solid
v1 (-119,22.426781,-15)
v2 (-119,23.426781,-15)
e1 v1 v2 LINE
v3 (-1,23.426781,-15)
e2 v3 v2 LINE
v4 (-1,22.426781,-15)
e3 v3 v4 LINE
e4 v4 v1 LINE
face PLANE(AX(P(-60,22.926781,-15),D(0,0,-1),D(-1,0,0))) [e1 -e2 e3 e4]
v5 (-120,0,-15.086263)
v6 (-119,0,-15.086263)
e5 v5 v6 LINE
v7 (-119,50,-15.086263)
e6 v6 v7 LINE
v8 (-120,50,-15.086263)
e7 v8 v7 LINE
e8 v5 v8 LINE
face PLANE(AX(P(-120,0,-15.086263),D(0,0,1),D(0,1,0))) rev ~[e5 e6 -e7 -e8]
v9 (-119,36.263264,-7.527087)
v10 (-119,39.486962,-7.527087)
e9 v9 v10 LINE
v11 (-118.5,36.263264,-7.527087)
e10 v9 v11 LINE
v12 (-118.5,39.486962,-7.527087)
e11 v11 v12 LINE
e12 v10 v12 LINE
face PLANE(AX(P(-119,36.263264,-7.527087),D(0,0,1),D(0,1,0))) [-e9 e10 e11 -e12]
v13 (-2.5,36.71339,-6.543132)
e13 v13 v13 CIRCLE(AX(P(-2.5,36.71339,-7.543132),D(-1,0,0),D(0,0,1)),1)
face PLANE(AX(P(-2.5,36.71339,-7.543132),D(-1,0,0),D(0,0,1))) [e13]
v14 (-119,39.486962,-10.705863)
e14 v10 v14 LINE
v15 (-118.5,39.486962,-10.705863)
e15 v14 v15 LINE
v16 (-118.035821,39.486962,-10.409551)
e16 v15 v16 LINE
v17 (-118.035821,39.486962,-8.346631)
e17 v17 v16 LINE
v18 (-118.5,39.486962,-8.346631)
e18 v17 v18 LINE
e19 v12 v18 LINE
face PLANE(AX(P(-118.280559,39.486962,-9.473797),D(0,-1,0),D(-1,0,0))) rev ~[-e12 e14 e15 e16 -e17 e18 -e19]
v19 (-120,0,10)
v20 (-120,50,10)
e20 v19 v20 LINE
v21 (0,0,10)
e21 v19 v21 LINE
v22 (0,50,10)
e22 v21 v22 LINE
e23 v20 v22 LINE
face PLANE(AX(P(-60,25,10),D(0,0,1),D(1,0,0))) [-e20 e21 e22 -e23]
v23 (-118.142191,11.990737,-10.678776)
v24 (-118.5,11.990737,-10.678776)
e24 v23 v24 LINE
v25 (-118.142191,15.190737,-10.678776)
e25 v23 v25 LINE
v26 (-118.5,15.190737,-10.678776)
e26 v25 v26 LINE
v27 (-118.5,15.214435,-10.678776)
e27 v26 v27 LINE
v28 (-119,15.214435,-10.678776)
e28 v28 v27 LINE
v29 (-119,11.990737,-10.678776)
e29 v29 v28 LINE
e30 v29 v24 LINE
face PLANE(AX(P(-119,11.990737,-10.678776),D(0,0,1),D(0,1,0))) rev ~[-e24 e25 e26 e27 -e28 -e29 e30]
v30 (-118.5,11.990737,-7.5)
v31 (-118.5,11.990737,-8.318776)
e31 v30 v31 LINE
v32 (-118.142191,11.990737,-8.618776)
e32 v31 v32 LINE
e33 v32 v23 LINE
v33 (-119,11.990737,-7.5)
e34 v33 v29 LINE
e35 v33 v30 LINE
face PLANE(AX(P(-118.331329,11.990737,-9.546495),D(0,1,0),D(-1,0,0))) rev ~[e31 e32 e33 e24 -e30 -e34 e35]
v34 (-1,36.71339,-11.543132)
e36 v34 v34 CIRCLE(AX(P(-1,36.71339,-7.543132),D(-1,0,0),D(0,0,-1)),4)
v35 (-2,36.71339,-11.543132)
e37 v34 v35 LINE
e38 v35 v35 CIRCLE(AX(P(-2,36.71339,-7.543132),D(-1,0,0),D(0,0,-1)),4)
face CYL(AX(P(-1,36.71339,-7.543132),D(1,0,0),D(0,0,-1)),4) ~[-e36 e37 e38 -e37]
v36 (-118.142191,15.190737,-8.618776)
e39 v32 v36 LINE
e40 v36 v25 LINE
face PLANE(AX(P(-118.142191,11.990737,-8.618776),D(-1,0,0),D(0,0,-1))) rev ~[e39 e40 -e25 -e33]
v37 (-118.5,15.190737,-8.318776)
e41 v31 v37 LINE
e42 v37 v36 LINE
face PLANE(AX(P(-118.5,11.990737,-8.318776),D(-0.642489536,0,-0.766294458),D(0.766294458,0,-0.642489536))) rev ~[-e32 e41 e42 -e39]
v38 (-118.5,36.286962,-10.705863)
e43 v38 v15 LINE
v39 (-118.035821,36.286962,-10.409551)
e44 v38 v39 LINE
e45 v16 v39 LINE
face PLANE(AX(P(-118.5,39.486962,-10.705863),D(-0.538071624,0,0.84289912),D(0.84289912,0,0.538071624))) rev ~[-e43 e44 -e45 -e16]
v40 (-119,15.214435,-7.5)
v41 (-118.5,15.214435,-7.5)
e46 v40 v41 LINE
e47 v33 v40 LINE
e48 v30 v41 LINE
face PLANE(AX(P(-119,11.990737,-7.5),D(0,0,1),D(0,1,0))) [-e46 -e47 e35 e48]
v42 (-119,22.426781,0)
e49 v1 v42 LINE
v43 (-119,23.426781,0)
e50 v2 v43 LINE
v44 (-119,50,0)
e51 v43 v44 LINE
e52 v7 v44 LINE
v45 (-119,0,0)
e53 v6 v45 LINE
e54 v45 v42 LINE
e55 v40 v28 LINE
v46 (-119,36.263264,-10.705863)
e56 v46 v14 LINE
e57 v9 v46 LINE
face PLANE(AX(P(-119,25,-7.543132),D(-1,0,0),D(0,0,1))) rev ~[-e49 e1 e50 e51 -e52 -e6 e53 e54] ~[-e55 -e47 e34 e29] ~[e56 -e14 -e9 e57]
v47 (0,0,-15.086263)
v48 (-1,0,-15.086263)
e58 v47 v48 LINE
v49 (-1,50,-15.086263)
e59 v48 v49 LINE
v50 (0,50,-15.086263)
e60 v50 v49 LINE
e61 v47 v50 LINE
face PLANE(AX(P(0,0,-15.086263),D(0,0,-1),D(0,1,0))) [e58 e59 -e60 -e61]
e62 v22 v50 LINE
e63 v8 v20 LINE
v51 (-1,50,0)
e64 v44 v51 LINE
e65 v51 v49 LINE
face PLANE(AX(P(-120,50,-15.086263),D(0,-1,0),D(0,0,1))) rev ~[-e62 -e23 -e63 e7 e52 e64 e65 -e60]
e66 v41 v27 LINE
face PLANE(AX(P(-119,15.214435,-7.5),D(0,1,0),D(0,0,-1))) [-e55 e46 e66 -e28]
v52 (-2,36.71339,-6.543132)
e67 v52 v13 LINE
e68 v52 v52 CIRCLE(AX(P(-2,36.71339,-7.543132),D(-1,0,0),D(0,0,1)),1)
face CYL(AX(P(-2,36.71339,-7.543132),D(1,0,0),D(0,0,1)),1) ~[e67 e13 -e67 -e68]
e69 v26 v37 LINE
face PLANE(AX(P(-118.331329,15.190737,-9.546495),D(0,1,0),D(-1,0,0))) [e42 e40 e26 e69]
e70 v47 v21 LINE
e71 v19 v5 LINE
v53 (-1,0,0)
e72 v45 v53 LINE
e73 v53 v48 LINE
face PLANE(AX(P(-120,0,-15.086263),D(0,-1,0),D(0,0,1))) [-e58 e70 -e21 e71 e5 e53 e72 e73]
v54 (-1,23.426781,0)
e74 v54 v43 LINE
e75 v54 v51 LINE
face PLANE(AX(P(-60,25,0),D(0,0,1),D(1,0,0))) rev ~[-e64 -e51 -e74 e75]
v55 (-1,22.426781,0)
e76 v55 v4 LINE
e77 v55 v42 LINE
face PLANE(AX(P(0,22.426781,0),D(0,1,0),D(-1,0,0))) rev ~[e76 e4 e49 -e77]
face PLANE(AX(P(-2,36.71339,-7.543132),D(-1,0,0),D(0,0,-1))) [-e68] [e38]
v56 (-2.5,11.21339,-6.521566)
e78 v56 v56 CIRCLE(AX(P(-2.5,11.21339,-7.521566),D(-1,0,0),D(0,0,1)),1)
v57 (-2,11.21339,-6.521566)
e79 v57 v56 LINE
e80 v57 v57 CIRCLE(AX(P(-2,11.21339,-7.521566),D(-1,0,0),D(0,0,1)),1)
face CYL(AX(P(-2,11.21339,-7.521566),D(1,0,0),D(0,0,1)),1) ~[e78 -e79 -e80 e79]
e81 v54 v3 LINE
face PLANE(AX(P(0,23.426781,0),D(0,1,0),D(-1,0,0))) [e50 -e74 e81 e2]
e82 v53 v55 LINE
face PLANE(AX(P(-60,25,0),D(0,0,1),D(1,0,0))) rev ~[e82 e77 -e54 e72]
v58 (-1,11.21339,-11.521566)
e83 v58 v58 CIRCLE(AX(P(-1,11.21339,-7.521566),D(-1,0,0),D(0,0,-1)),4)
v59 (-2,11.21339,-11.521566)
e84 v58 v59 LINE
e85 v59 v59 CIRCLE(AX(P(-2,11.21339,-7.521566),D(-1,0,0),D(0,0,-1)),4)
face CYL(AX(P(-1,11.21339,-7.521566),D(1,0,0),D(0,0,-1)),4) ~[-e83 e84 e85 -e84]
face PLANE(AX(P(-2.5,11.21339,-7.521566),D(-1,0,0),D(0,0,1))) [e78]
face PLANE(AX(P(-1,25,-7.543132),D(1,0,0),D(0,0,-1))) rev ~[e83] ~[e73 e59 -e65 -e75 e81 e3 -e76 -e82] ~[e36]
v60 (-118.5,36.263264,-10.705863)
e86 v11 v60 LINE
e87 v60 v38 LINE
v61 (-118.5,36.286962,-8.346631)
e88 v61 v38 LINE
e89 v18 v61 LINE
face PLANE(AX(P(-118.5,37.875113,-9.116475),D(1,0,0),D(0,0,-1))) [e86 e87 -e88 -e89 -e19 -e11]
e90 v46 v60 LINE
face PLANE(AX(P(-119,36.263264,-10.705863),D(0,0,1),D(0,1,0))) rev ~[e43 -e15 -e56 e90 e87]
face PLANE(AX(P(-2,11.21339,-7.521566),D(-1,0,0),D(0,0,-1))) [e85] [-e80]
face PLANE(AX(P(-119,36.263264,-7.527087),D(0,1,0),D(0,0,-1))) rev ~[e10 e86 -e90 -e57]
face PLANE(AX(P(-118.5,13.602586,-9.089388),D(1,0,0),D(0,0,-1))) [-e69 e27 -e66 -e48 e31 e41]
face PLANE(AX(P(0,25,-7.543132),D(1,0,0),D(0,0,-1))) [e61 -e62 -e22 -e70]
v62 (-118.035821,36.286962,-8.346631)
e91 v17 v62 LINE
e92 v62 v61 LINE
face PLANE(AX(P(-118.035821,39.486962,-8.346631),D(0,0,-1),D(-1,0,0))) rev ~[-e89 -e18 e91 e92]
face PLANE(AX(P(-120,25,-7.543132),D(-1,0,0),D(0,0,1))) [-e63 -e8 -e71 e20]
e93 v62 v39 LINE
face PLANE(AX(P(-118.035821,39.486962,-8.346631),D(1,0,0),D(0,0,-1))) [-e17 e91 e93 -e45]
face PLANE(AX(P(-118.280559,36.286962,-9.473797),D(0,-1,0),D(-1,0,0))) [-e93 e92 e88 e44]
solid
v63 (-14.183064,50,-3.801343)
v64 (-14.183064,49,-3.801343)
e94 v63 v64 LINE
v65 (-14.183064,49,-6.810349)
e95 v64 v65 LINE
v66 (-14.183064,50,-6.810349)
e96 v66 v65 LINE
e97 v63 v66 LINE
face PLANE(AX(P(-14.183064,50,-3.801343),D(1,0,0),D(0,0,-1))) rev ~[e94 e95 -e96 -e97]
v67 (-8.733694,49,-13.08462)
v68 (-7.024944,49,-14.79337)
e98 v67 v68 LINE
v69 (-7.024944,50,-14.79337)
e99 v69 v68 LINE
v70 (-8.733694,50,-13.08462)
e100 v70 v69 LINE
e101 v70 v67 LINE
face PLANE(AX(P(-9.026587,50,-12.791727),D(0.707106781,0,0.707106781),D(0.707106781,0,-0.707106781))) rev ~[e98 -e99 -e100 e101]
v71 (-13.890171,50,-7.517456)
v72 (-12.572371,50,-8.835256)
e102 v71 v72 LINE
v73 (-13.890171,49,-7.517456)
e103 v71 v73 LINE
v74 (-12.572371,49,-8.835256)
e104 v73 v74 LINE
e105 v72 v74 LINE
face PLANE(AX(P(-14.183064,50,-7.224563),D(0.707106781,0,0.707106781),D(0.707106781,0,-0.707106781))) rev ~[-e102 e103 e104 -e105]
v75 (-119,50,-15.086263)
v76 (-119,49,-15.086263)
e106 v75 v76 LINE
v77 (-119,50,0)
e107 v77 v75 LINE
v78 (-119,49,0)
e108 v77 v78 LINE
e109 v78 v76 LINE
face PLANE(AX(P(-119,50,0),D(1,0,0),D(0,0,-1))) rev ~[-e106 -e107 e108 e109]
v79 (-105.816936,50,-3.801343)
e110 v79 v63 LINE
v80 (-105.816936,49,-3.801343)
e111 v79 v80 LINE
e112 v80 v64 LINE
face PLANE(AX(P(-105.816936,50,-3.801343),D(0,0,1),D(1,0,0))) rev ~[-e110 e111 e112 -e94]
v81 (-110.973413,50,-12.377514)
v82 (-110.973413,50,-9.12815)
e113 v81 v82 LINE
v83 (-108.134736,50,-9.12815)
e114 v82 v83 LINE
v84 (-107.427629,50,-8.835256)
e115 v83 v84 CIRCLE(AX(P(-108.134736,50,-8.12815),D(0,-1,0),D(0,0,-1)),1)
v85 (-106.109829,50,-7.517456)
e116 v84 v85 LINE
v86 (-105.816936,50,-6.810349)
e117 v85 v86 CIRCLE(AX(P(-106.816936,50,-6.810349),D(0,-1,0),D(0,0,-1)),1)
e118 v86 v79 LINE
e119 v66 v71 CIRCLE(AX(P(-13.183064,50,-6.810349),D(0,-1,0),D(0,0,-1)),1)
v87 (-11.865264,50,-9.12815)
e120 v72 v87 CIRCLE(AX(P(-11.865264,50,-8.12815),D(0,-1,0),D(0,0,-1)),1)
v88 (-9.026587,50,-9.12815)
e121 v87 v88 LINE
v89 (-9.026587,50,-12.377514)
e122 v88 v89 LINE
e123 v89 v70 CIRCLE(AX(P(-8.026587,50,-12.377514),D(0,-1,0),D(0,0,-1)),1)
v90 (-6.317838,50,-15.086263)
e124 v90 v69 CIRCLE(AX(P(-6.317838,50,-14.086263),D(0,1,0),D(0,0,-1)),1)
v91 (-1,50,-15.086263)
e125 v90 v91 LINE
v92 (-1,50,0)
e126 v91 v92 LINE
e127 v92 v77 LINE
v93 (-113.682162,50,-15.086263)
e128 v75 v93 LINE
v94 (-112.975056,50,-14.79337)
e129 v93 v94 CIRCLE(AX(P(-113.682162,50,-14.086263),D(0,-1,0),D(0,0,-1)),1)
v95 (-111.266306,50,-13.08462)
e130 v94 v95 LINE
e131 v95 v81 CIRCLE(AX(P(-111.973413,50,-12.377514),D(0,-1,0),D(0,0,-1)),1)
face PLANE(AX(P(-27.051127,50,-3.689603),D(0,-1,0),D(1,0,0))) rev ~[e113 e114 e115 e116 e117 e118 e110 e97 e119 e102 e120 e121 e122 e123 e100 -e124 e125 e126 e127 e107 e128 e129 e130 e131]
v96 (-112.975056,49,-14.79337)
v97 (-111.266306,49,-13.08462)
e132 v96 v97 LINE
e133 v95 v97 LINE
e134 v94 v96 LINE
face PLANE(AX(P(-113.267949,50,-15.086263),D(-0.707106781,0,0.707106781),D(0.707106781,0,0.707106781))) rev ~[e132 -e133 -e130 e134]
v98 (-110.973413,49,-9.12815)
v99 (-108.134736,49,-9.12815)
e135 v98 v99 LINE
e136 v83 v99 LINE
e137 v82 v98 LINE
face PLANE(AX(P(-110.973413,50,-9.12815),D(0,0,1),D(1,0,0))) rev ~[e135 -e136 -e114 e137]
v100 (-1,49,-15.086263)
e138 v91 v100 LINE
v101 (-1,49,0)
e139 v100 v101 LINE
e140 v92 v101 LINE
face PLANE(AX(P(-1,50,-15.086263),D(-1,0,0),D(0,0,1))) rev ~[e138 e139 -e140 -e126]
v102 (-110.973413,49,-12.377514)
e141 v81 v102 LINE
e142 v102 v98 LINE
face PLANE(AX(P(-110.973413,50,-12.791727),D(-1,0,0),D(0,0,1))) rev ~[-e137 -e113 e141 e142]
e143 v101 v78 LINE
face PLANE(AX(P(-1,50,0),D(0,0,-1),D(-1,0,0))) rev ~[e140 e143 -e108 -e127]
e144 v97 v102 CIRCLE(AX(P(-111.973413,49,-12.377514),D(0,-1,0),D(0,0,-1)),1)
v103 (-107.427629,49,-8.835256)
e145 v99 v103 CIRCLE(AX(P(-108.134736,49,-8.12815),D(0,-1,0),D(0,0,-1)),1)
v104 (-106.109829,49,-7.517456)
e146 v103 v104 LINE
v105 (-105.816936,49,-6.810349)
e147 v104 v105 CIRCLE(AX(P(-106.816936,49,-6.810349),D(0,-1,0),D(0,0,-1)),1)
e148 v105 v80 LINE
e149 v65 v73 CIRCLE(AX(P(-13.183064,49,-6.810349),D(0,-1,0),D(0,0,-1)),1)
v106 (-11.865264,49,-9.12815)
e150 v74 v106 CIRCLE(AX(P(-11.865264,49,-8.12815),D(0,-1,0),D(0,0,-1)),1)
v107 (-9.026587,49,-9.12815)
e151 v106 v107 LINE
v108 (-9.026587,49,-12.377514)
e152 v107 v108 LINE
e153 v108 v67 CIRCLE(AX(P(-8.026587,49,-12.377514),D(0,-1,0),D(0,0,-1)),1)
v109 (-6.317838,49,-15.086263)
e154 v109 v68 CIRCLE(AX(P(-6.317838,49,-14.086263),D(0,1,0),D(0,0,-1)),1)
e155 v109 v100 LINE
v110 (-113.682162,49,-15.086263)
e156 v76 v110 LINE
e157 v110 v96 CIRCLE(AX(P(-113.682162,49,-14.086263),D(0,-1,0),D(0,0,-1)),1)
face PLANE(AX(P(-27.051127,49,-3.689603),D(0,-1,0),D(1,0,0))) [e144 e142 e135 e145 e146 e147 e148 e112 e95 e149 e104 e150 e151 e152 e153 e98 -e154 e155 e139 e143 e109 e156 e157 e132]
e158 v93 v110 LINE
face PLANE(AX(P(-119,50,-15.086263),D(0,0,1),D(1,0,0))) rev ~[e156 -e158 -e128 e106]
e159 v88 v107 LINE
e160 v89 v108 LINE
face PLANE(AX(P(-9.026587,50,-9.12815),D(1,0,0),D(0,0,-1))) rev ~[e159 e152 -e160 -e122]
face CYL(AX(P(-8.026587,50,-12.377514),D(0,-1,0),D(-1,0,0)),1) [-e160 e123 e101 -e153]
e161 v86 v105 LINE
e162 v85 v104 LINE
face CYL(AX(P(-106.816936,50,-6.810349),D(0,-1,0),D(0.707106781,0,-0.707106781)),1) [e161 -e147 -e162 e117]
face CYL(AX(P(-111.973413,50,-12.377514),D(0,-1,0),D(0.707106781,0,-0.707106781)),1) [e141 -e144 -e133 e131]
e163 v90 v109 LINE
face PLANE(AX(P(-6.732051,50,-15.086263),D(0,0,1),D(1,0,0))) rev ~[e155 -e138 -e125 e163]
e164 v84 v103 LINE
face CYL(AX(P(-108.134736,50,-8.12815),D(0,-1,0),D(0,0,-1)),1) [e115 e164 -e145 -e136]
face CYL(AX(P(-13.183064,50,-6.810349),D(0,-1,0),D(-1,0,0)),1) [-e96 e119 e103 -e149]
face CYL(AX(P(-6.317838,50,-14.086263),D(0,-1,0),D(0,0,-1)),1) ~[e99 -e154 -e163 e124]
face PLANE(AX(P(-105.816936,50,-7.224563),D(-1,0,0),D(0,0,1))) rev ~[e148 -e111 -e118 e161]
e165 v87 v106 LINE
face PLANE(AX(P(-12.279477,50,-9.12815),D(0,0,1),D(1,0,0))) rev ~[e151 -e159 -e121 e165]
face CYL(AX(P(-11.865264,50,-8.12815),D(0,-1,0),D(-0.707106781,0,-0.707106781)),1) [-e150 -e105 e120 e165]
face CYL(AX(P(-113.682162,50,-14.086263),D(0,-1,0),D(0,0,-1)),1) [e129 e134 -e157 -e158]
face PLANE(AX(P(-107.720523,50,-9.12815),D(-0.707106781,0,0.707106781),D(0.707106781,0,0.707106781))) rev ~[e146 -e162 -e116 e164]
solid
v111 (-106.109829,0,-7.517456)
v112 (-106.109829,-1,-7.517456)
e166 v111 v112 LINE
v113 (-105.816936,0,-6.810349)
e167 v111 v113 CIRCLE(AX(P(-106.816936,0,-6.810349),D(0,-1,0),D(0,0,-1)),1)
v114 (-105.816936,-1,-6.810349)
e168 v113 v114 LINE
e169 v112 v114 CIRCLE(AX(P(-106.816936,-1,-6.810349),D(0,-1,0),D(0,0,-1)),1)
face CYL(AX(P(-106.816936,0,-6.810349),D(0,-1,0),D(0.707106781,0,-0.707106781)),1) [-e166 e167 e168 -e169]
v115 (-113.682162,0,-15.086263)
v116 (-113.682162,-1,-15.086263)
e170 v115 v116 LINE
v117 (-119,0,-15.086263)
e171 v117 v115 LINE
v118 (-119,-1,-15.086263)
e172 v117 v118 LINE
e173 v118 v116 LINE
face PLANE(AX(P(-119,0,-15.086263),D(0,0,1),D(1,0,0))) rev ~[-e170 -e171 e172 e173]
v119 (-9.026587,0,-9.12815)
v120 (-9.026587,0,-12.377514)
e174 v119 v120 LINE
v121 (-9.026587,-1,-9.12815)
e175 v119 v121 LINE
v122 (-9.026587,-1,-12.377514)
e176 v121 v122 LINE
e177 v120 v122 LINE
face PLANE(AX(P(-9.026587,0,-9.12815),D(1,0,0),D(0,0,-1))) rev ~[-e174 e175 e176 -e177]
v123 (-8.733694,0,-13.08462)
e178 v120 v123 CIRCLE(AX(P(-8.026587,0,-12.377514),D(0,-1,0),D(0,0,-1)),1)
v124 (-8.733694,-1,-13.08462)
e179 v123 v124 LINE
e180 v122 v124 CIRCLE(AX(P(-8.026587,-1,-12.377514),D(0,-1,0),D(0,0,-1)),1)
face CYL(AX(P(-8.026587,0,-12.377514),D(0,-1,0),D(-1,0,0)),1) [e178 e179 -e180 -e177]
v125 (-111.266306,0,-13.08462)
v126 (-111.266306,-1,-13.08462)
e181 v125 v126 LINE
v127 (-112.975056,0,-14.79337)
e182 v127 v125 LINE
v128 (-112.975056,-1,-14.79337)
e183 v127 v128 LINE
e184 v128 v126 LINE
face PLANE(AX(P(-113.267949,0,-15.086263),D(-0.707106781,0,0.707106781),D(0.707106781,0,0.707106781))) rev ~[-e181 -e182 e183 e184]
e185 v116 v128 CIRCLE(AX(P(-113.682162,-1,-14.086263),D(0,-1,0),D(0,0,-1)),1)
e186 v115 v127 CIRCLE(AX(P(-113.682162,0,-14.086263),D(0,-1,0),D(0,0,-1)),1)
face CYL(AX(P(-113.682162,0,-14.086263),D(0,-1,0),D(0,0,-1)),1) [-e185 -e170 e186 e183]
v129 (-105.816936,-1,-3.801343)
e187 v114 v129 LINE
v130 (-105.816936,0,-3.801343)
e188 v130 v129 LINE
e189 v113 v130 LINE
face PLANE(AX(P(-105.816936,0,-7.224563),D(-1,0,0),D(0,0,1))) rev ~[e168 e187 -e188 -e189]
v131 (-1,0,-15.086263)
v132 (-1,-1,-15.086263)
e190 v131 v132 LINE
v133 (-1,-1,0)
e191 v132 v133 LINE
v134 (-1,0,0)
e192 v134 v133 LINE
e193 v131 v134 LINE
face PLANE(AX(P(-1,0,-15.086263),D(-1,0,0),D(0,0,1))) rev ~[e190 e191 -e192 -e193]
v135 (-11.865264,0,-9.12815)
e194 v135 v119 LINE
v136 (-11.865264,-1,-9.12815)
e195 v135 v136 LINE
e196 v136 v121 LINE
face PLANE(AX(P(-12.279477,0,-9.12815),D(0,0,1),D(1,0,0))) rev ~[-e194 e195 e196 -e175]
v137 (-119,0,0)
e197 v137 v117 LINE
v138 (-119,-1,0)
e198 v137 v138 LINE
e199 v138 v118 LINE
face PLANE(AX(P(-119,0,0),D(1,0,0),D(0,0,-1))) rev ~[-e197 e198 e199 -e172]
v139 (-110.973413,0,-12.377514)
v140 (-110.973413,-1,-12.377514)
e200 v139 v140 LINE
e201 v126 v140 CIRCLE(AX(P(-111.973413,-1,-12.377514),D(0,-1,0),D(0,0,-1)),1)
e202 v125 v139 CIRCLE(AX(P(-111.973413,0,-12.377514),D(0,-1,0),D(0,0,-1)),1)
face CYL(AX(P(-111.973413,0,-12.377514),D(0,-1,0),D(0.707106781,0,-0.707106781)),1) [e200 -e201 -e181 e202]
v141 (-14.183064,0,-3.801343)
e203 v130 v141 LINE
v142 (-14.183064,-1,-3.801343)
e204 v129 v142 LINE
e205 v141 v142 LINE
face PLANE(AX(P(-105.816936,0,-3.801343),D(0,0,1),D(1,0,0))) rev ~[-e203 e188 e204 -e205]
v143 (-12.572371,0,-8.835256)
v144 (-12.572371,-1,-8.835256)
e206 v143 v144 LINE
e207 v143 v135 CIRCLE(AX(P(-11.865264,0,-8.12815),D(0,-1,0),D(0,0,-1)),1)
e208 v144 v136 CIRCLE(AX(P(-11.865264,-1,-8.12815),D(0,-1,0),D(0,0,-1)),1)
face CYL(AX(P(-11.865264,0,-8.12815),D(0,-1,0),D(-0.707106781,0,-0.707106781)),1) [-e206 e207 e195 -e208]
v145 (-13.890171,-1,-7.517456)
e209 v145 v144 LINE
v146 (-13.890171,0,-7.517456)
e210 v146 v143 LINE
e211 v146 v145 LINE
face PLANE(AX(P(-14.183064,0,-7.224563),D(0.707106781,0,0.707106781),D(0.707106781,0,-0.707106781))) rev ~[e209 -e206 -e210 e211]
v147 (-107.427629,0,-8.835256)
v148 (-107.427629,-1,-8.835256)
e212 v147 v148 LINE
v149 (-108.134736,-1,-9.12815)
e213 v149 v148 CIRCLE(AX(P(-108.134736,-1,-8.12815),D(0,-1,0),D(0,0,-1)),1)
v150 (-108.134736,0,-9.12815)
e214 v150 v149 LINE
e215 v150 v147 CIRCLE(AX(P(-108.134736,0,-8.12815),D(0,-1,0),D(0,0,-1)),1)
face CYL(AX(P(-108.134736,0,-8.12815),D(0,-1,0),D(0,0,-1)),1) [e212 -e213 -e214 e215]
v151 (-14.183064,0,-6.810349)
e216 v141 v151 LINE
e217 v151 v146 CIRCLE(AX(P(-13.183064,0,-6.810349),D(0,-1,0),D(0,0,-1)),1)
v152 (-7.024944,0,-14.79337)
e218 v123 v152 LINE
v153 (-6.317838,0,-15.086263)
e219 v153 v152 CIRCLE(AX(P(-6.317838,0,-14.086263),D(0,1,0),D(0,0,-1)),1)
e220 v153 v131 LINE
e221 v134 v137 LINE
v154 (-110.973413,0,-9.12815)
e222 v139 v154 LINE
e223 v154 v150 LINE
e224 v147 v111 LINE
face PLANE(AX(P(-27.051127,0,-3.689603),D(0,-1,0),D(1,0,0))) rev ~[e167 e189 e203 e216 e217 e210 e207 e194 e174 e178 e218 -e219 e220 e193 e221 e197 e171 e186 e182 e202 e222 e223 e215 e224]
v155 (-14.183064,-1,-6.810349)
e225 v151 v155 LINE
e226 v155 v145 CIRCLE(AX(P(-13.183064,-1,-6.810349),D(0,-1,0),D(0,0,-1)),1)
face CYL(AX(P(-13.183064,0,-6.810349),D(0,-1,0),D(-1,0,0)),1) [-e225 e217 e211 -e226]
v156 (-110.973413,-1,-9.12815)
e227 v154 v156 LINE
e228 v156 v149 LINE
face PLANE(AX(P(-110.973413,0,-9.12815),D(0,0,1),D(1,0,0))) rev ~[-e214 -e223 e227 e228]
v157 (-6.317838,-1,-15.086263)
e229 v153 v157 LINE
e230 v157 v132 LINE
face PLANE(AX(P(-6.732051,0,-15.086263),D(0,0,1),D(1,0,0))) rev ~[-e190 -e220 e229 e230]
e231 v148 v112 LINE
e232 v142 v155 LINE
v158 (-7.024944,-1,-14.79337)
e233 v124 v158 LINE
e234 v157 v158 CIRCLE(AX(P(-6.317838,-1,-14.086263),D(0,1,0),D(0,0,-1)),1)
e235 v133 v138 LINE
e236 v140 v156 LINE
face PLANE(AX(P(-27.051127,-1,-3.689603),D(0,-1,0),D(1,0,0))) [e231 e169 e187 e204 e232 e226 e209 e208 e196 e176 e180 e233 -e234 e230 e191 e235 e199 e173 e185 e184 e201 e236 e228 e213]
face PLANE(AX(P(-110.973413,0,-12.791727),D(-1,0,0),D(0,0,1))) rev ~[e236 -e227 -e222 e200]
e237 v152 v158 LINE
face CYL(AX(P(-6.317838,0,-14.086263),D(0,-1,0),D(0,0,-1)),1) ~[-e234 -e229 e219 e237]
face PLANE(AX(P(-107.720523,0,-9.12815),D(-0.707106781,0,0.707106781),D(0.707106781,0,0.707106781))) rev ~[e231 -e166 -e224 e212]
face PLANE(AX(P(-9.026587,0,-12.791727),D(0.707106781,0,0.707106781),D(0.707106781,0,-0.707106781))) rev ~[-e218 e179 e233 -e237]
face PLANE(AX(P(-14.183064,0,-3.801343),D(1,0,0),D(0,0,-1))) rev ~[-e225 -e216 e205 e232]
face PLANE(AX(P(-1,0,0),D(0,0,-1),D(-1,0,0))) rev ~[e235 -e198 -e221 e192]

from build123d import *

# Parameters (mm, degrees)
SKETCH2_W            = 120
SKETCH2_H            = 50
BOSS_EXTRUDE1_DEPTH  = 10
SKETCH5_W            = 120
SKETCH5_H            = 1
BOSS_EXTRUDE2_DEPTH  = 15
SKETCH6_W            = 15.086263202
SKETCH6_H            = 50
BOSS_EXTRUDE5_DEPTH  = 1
SKETCH7_W            = 15.086263202
SKETCH7_H            = 50
BOSS_EXTRUDE6_DEPTH  = 1
BOSS_EXTRUDE7_DEPTH  = 1
LPATTERN2_COUNT      = 2
LPATTERN2_PITCH      = 50
FILLET1_R            = 1
FILLET2_R            = 1
SKETCH10_R           = 4
BOSS_EXTRUDE8_DEPTH  = 1
SKETCH11_R           = 4
BOSS_EXTRUDE10_DEPTH = 1
SKETCH12_R           = 1
BOSS_EXTRUDE11_DEPTH = 0.5
SKETCH13_W           = 3.178775998
SKETCH13_H           = 3.223697934
SKETCH13_H_2         = 3.223697935
BOSS_EXTRUDE12_DEPTH = 0.5
BOSS_EXTRUDE13_DEPTH = 3.2
BOSS_EXTRUDE15_DEPTH = 3.2


with BuildPart() as part:
    # Sketch2 → Boss-Extrude1 (new body)
    with BuildSketch(Plane.XY):
        with Locations((-60, 25)):
            Rectangle(SKETCH2_W, SKETCH2_H)
    extrude(amount=BOSS_EXTRUDE1_DEPTH)

    # Sketch5 → Boss-Extrude2 (add)
    with BuildSketch(Plane(origin=(0, 0, 0), x_dir=(-1, 0, 0), z_dir=(0, 0, -1))):
        with Locations((60, 22.926780628)):
            Rectangle(SKETCH5_W, SKETCH5_H)
    extrude(amount=BOSS_EXTRUDE2_DEPTH)

    # Sketch6 → Boss-Extrude5 (add)
    with BuildSketch(Plane(origin=(0, 0, 0), x_dir=(0, 0, -1), z_dir=(1, 0, 0))):
        with Locations((7.543131601, 25)):
            Rectangle(SKETCH6_W, SKETCH6_H)
    extrude(amount=-BOSS_EXTRUDE5_DEPTH)

    # Sketch7 → Boss-Extrude6 (add)
    with BuildSketch(Plane.ZY.offset(120)):
        with Locations((-7.543131601, 25)):
            Rectangle(SKETCH7_W, SKETCH7_H)
    extrude(amount=-BOSS_EXTRUDE6_DEPTH)

    # Sketch10 → Boss-Extrude8 (add)
    with BuildSketch(Plane.ZY.offset(1)):
        with Locations(Location((-7.543131601, 36.713390314, 0), (0, 0, 180))):
            Circle(SKETCH10_R)
    extrude(amount=BOSS_EXTRUDE8_DEPTH)

    # Sketch11 → Boss-Extrude10 (add)
    with BuildSketch(Plane.ZY.offset(1)):
        with Locations(Location((-7.5215658, 11.213390314, 0), (0, 0, 180))):
            Circle(SKETCH11_R)
    extrude(amount=BOSS_EXTRUDE10_DEPTH)

    # Sketch12 → Boss-Extrude11 (add)
    with BuildSketch(Plane.ZY.offset(2)):
        with Locations((-7.543131601, 36.713390314)):
            Circle(SKETCH12_R)
        with Locations((-7.5215658, 11.213390314)):
            Circle(SKETCH12_R)
    extrude(amount=BOSS_EXTRUDE11_DEPTH)

    # Sketch13 → Boss-Extrude12 (add)
    with BuildSketch(Plane(origin=(-119, 0, 0), x_dir=(0, 0, -1), z_dir=(1, 0, 0))):
        with Locations((9.116474982, 37.875113353)):
            Rectangle(SKETCH13_W, SKETCH13_H)
        with Locations((9.089387999, 13.602585939)):
            Rectangle(SKETCH13_W, SKETCH13_H_2)
    extrude(amount=BOSS_EXTRUDE12_DEPTH)

    # Sketch14 → Boss-Extrude13 (add)
    with BuildSketch(Plane(origin=(0, 39.48696232, 0), x_dir=(1, 0, 0), z_dir=(0, 1, 0))):
        Polygon((-118.5, 10.705862981), (-118.03582127, 10.40955065), (-118.03582127, 9.44156523), (-118.03582127, 8.346630902), (-118.5, 8.346630902), align=None)
    extrude(amount=-BOSS_EXTRUDE13_DEPTH)

    # Sketch15 → Boss-Extrude15 (add)
    with BuildSketch(Plane.XZ.offset(-11.990736971)):
        Polygon((-118.5, -10.678775998), (-118.5, -8.318775998), (-118.142191313, -8.618775998), (-118.142191313, -10.678775998), align=None)
    extrude(amount=-BOSS_EXTRUDE15_DEPTH)


with BuildPart() as body_2:
    # Sketch9 → Boss-Extrude7 (new body)
    with BuildSketch(Plane.XZ):
        Polygon((-6.732051107, -15.086263202), (-1, -15.086263202), (-1, 0), (-14.183064322, 0), (-60, 0), (-60, -3.801343331), (-14.183064322, -3.801343331), (-14.183064322, -7.224562619), (-12.279477372, -9.12814957), (-9.026587083, -9.12814957), (-9.026587083, -12.791727226), align=None)
        Polygon((-60, -3.801343331), (-60, 0), (-105.816935678, 0), (-119, 0), (-119, -15.086263202), (-113.267948893, -15.086263202), (-110.973412917, -12.791727226), (-110.973412917, -9.12814957), (-107.720522628, -9.12814957), (-105.816935678, -7.224562619), (-105.816935678, -3.801343331), align=None)
    boss_extrude7 = extrude(amount=BOSS_EXTRUDE7_DEPTH)

    # Fillet2
    fillet2_edges = [body_2.edges().sort_by_distance(p)[0] for p in [
        (-105.816935678, -0.5, -7.224562619),
        (-107.720522628, -0.5, -9.12814957),
        (-110.973412917, -0.5, -12.791727226),
        (-113.267948893, -0.5, -15.086263202),
        (-6.732051107, -0.5, -15.086263202),
        (-9.026587083, -0.5, -12.791727226),
        (-12.279477372, -0.5, -9.12814957),
        (-14.183064322, -0.5, -7.224562619),
    ]]
    fillet(fillet2_edges, radius=FILLET2_R)


with BuildPart() as lpattern2_1:
    # LPattern2: Boss-Extrude7 ×2
    with Locations(*[(0, i * LPATTERN2_PITCH, 0) for i in range(1, LPATTERN2_COUNT)]):
        add(boss_extrude7)

    # Fillet1
    fillet1_edges = [lpattern2_1.edges().sort_by_distance(p)[0] for p in [
        (-105.816935678, 49.5, -7.224562619),
        (-107.720522628, 49.5, -9.12814957),
        (-110.973412917, 49.5, -12.791727226),
        (-113.267948893, 49.5, -15.086263202),
        (-6.732051107, 49.5, -15.086263202),
        (-9.026587083, 49.5, -12.791727226),
        (-12.279477372, 49.5, -9.12814957),
        (-14.183064322, 49.5, -7.224562619),
    ]]
    fillet(fillet1_edges, radius=FILLET1_R)


solid = Compound([part.part, body_2.part, lpattern2_1.part])
